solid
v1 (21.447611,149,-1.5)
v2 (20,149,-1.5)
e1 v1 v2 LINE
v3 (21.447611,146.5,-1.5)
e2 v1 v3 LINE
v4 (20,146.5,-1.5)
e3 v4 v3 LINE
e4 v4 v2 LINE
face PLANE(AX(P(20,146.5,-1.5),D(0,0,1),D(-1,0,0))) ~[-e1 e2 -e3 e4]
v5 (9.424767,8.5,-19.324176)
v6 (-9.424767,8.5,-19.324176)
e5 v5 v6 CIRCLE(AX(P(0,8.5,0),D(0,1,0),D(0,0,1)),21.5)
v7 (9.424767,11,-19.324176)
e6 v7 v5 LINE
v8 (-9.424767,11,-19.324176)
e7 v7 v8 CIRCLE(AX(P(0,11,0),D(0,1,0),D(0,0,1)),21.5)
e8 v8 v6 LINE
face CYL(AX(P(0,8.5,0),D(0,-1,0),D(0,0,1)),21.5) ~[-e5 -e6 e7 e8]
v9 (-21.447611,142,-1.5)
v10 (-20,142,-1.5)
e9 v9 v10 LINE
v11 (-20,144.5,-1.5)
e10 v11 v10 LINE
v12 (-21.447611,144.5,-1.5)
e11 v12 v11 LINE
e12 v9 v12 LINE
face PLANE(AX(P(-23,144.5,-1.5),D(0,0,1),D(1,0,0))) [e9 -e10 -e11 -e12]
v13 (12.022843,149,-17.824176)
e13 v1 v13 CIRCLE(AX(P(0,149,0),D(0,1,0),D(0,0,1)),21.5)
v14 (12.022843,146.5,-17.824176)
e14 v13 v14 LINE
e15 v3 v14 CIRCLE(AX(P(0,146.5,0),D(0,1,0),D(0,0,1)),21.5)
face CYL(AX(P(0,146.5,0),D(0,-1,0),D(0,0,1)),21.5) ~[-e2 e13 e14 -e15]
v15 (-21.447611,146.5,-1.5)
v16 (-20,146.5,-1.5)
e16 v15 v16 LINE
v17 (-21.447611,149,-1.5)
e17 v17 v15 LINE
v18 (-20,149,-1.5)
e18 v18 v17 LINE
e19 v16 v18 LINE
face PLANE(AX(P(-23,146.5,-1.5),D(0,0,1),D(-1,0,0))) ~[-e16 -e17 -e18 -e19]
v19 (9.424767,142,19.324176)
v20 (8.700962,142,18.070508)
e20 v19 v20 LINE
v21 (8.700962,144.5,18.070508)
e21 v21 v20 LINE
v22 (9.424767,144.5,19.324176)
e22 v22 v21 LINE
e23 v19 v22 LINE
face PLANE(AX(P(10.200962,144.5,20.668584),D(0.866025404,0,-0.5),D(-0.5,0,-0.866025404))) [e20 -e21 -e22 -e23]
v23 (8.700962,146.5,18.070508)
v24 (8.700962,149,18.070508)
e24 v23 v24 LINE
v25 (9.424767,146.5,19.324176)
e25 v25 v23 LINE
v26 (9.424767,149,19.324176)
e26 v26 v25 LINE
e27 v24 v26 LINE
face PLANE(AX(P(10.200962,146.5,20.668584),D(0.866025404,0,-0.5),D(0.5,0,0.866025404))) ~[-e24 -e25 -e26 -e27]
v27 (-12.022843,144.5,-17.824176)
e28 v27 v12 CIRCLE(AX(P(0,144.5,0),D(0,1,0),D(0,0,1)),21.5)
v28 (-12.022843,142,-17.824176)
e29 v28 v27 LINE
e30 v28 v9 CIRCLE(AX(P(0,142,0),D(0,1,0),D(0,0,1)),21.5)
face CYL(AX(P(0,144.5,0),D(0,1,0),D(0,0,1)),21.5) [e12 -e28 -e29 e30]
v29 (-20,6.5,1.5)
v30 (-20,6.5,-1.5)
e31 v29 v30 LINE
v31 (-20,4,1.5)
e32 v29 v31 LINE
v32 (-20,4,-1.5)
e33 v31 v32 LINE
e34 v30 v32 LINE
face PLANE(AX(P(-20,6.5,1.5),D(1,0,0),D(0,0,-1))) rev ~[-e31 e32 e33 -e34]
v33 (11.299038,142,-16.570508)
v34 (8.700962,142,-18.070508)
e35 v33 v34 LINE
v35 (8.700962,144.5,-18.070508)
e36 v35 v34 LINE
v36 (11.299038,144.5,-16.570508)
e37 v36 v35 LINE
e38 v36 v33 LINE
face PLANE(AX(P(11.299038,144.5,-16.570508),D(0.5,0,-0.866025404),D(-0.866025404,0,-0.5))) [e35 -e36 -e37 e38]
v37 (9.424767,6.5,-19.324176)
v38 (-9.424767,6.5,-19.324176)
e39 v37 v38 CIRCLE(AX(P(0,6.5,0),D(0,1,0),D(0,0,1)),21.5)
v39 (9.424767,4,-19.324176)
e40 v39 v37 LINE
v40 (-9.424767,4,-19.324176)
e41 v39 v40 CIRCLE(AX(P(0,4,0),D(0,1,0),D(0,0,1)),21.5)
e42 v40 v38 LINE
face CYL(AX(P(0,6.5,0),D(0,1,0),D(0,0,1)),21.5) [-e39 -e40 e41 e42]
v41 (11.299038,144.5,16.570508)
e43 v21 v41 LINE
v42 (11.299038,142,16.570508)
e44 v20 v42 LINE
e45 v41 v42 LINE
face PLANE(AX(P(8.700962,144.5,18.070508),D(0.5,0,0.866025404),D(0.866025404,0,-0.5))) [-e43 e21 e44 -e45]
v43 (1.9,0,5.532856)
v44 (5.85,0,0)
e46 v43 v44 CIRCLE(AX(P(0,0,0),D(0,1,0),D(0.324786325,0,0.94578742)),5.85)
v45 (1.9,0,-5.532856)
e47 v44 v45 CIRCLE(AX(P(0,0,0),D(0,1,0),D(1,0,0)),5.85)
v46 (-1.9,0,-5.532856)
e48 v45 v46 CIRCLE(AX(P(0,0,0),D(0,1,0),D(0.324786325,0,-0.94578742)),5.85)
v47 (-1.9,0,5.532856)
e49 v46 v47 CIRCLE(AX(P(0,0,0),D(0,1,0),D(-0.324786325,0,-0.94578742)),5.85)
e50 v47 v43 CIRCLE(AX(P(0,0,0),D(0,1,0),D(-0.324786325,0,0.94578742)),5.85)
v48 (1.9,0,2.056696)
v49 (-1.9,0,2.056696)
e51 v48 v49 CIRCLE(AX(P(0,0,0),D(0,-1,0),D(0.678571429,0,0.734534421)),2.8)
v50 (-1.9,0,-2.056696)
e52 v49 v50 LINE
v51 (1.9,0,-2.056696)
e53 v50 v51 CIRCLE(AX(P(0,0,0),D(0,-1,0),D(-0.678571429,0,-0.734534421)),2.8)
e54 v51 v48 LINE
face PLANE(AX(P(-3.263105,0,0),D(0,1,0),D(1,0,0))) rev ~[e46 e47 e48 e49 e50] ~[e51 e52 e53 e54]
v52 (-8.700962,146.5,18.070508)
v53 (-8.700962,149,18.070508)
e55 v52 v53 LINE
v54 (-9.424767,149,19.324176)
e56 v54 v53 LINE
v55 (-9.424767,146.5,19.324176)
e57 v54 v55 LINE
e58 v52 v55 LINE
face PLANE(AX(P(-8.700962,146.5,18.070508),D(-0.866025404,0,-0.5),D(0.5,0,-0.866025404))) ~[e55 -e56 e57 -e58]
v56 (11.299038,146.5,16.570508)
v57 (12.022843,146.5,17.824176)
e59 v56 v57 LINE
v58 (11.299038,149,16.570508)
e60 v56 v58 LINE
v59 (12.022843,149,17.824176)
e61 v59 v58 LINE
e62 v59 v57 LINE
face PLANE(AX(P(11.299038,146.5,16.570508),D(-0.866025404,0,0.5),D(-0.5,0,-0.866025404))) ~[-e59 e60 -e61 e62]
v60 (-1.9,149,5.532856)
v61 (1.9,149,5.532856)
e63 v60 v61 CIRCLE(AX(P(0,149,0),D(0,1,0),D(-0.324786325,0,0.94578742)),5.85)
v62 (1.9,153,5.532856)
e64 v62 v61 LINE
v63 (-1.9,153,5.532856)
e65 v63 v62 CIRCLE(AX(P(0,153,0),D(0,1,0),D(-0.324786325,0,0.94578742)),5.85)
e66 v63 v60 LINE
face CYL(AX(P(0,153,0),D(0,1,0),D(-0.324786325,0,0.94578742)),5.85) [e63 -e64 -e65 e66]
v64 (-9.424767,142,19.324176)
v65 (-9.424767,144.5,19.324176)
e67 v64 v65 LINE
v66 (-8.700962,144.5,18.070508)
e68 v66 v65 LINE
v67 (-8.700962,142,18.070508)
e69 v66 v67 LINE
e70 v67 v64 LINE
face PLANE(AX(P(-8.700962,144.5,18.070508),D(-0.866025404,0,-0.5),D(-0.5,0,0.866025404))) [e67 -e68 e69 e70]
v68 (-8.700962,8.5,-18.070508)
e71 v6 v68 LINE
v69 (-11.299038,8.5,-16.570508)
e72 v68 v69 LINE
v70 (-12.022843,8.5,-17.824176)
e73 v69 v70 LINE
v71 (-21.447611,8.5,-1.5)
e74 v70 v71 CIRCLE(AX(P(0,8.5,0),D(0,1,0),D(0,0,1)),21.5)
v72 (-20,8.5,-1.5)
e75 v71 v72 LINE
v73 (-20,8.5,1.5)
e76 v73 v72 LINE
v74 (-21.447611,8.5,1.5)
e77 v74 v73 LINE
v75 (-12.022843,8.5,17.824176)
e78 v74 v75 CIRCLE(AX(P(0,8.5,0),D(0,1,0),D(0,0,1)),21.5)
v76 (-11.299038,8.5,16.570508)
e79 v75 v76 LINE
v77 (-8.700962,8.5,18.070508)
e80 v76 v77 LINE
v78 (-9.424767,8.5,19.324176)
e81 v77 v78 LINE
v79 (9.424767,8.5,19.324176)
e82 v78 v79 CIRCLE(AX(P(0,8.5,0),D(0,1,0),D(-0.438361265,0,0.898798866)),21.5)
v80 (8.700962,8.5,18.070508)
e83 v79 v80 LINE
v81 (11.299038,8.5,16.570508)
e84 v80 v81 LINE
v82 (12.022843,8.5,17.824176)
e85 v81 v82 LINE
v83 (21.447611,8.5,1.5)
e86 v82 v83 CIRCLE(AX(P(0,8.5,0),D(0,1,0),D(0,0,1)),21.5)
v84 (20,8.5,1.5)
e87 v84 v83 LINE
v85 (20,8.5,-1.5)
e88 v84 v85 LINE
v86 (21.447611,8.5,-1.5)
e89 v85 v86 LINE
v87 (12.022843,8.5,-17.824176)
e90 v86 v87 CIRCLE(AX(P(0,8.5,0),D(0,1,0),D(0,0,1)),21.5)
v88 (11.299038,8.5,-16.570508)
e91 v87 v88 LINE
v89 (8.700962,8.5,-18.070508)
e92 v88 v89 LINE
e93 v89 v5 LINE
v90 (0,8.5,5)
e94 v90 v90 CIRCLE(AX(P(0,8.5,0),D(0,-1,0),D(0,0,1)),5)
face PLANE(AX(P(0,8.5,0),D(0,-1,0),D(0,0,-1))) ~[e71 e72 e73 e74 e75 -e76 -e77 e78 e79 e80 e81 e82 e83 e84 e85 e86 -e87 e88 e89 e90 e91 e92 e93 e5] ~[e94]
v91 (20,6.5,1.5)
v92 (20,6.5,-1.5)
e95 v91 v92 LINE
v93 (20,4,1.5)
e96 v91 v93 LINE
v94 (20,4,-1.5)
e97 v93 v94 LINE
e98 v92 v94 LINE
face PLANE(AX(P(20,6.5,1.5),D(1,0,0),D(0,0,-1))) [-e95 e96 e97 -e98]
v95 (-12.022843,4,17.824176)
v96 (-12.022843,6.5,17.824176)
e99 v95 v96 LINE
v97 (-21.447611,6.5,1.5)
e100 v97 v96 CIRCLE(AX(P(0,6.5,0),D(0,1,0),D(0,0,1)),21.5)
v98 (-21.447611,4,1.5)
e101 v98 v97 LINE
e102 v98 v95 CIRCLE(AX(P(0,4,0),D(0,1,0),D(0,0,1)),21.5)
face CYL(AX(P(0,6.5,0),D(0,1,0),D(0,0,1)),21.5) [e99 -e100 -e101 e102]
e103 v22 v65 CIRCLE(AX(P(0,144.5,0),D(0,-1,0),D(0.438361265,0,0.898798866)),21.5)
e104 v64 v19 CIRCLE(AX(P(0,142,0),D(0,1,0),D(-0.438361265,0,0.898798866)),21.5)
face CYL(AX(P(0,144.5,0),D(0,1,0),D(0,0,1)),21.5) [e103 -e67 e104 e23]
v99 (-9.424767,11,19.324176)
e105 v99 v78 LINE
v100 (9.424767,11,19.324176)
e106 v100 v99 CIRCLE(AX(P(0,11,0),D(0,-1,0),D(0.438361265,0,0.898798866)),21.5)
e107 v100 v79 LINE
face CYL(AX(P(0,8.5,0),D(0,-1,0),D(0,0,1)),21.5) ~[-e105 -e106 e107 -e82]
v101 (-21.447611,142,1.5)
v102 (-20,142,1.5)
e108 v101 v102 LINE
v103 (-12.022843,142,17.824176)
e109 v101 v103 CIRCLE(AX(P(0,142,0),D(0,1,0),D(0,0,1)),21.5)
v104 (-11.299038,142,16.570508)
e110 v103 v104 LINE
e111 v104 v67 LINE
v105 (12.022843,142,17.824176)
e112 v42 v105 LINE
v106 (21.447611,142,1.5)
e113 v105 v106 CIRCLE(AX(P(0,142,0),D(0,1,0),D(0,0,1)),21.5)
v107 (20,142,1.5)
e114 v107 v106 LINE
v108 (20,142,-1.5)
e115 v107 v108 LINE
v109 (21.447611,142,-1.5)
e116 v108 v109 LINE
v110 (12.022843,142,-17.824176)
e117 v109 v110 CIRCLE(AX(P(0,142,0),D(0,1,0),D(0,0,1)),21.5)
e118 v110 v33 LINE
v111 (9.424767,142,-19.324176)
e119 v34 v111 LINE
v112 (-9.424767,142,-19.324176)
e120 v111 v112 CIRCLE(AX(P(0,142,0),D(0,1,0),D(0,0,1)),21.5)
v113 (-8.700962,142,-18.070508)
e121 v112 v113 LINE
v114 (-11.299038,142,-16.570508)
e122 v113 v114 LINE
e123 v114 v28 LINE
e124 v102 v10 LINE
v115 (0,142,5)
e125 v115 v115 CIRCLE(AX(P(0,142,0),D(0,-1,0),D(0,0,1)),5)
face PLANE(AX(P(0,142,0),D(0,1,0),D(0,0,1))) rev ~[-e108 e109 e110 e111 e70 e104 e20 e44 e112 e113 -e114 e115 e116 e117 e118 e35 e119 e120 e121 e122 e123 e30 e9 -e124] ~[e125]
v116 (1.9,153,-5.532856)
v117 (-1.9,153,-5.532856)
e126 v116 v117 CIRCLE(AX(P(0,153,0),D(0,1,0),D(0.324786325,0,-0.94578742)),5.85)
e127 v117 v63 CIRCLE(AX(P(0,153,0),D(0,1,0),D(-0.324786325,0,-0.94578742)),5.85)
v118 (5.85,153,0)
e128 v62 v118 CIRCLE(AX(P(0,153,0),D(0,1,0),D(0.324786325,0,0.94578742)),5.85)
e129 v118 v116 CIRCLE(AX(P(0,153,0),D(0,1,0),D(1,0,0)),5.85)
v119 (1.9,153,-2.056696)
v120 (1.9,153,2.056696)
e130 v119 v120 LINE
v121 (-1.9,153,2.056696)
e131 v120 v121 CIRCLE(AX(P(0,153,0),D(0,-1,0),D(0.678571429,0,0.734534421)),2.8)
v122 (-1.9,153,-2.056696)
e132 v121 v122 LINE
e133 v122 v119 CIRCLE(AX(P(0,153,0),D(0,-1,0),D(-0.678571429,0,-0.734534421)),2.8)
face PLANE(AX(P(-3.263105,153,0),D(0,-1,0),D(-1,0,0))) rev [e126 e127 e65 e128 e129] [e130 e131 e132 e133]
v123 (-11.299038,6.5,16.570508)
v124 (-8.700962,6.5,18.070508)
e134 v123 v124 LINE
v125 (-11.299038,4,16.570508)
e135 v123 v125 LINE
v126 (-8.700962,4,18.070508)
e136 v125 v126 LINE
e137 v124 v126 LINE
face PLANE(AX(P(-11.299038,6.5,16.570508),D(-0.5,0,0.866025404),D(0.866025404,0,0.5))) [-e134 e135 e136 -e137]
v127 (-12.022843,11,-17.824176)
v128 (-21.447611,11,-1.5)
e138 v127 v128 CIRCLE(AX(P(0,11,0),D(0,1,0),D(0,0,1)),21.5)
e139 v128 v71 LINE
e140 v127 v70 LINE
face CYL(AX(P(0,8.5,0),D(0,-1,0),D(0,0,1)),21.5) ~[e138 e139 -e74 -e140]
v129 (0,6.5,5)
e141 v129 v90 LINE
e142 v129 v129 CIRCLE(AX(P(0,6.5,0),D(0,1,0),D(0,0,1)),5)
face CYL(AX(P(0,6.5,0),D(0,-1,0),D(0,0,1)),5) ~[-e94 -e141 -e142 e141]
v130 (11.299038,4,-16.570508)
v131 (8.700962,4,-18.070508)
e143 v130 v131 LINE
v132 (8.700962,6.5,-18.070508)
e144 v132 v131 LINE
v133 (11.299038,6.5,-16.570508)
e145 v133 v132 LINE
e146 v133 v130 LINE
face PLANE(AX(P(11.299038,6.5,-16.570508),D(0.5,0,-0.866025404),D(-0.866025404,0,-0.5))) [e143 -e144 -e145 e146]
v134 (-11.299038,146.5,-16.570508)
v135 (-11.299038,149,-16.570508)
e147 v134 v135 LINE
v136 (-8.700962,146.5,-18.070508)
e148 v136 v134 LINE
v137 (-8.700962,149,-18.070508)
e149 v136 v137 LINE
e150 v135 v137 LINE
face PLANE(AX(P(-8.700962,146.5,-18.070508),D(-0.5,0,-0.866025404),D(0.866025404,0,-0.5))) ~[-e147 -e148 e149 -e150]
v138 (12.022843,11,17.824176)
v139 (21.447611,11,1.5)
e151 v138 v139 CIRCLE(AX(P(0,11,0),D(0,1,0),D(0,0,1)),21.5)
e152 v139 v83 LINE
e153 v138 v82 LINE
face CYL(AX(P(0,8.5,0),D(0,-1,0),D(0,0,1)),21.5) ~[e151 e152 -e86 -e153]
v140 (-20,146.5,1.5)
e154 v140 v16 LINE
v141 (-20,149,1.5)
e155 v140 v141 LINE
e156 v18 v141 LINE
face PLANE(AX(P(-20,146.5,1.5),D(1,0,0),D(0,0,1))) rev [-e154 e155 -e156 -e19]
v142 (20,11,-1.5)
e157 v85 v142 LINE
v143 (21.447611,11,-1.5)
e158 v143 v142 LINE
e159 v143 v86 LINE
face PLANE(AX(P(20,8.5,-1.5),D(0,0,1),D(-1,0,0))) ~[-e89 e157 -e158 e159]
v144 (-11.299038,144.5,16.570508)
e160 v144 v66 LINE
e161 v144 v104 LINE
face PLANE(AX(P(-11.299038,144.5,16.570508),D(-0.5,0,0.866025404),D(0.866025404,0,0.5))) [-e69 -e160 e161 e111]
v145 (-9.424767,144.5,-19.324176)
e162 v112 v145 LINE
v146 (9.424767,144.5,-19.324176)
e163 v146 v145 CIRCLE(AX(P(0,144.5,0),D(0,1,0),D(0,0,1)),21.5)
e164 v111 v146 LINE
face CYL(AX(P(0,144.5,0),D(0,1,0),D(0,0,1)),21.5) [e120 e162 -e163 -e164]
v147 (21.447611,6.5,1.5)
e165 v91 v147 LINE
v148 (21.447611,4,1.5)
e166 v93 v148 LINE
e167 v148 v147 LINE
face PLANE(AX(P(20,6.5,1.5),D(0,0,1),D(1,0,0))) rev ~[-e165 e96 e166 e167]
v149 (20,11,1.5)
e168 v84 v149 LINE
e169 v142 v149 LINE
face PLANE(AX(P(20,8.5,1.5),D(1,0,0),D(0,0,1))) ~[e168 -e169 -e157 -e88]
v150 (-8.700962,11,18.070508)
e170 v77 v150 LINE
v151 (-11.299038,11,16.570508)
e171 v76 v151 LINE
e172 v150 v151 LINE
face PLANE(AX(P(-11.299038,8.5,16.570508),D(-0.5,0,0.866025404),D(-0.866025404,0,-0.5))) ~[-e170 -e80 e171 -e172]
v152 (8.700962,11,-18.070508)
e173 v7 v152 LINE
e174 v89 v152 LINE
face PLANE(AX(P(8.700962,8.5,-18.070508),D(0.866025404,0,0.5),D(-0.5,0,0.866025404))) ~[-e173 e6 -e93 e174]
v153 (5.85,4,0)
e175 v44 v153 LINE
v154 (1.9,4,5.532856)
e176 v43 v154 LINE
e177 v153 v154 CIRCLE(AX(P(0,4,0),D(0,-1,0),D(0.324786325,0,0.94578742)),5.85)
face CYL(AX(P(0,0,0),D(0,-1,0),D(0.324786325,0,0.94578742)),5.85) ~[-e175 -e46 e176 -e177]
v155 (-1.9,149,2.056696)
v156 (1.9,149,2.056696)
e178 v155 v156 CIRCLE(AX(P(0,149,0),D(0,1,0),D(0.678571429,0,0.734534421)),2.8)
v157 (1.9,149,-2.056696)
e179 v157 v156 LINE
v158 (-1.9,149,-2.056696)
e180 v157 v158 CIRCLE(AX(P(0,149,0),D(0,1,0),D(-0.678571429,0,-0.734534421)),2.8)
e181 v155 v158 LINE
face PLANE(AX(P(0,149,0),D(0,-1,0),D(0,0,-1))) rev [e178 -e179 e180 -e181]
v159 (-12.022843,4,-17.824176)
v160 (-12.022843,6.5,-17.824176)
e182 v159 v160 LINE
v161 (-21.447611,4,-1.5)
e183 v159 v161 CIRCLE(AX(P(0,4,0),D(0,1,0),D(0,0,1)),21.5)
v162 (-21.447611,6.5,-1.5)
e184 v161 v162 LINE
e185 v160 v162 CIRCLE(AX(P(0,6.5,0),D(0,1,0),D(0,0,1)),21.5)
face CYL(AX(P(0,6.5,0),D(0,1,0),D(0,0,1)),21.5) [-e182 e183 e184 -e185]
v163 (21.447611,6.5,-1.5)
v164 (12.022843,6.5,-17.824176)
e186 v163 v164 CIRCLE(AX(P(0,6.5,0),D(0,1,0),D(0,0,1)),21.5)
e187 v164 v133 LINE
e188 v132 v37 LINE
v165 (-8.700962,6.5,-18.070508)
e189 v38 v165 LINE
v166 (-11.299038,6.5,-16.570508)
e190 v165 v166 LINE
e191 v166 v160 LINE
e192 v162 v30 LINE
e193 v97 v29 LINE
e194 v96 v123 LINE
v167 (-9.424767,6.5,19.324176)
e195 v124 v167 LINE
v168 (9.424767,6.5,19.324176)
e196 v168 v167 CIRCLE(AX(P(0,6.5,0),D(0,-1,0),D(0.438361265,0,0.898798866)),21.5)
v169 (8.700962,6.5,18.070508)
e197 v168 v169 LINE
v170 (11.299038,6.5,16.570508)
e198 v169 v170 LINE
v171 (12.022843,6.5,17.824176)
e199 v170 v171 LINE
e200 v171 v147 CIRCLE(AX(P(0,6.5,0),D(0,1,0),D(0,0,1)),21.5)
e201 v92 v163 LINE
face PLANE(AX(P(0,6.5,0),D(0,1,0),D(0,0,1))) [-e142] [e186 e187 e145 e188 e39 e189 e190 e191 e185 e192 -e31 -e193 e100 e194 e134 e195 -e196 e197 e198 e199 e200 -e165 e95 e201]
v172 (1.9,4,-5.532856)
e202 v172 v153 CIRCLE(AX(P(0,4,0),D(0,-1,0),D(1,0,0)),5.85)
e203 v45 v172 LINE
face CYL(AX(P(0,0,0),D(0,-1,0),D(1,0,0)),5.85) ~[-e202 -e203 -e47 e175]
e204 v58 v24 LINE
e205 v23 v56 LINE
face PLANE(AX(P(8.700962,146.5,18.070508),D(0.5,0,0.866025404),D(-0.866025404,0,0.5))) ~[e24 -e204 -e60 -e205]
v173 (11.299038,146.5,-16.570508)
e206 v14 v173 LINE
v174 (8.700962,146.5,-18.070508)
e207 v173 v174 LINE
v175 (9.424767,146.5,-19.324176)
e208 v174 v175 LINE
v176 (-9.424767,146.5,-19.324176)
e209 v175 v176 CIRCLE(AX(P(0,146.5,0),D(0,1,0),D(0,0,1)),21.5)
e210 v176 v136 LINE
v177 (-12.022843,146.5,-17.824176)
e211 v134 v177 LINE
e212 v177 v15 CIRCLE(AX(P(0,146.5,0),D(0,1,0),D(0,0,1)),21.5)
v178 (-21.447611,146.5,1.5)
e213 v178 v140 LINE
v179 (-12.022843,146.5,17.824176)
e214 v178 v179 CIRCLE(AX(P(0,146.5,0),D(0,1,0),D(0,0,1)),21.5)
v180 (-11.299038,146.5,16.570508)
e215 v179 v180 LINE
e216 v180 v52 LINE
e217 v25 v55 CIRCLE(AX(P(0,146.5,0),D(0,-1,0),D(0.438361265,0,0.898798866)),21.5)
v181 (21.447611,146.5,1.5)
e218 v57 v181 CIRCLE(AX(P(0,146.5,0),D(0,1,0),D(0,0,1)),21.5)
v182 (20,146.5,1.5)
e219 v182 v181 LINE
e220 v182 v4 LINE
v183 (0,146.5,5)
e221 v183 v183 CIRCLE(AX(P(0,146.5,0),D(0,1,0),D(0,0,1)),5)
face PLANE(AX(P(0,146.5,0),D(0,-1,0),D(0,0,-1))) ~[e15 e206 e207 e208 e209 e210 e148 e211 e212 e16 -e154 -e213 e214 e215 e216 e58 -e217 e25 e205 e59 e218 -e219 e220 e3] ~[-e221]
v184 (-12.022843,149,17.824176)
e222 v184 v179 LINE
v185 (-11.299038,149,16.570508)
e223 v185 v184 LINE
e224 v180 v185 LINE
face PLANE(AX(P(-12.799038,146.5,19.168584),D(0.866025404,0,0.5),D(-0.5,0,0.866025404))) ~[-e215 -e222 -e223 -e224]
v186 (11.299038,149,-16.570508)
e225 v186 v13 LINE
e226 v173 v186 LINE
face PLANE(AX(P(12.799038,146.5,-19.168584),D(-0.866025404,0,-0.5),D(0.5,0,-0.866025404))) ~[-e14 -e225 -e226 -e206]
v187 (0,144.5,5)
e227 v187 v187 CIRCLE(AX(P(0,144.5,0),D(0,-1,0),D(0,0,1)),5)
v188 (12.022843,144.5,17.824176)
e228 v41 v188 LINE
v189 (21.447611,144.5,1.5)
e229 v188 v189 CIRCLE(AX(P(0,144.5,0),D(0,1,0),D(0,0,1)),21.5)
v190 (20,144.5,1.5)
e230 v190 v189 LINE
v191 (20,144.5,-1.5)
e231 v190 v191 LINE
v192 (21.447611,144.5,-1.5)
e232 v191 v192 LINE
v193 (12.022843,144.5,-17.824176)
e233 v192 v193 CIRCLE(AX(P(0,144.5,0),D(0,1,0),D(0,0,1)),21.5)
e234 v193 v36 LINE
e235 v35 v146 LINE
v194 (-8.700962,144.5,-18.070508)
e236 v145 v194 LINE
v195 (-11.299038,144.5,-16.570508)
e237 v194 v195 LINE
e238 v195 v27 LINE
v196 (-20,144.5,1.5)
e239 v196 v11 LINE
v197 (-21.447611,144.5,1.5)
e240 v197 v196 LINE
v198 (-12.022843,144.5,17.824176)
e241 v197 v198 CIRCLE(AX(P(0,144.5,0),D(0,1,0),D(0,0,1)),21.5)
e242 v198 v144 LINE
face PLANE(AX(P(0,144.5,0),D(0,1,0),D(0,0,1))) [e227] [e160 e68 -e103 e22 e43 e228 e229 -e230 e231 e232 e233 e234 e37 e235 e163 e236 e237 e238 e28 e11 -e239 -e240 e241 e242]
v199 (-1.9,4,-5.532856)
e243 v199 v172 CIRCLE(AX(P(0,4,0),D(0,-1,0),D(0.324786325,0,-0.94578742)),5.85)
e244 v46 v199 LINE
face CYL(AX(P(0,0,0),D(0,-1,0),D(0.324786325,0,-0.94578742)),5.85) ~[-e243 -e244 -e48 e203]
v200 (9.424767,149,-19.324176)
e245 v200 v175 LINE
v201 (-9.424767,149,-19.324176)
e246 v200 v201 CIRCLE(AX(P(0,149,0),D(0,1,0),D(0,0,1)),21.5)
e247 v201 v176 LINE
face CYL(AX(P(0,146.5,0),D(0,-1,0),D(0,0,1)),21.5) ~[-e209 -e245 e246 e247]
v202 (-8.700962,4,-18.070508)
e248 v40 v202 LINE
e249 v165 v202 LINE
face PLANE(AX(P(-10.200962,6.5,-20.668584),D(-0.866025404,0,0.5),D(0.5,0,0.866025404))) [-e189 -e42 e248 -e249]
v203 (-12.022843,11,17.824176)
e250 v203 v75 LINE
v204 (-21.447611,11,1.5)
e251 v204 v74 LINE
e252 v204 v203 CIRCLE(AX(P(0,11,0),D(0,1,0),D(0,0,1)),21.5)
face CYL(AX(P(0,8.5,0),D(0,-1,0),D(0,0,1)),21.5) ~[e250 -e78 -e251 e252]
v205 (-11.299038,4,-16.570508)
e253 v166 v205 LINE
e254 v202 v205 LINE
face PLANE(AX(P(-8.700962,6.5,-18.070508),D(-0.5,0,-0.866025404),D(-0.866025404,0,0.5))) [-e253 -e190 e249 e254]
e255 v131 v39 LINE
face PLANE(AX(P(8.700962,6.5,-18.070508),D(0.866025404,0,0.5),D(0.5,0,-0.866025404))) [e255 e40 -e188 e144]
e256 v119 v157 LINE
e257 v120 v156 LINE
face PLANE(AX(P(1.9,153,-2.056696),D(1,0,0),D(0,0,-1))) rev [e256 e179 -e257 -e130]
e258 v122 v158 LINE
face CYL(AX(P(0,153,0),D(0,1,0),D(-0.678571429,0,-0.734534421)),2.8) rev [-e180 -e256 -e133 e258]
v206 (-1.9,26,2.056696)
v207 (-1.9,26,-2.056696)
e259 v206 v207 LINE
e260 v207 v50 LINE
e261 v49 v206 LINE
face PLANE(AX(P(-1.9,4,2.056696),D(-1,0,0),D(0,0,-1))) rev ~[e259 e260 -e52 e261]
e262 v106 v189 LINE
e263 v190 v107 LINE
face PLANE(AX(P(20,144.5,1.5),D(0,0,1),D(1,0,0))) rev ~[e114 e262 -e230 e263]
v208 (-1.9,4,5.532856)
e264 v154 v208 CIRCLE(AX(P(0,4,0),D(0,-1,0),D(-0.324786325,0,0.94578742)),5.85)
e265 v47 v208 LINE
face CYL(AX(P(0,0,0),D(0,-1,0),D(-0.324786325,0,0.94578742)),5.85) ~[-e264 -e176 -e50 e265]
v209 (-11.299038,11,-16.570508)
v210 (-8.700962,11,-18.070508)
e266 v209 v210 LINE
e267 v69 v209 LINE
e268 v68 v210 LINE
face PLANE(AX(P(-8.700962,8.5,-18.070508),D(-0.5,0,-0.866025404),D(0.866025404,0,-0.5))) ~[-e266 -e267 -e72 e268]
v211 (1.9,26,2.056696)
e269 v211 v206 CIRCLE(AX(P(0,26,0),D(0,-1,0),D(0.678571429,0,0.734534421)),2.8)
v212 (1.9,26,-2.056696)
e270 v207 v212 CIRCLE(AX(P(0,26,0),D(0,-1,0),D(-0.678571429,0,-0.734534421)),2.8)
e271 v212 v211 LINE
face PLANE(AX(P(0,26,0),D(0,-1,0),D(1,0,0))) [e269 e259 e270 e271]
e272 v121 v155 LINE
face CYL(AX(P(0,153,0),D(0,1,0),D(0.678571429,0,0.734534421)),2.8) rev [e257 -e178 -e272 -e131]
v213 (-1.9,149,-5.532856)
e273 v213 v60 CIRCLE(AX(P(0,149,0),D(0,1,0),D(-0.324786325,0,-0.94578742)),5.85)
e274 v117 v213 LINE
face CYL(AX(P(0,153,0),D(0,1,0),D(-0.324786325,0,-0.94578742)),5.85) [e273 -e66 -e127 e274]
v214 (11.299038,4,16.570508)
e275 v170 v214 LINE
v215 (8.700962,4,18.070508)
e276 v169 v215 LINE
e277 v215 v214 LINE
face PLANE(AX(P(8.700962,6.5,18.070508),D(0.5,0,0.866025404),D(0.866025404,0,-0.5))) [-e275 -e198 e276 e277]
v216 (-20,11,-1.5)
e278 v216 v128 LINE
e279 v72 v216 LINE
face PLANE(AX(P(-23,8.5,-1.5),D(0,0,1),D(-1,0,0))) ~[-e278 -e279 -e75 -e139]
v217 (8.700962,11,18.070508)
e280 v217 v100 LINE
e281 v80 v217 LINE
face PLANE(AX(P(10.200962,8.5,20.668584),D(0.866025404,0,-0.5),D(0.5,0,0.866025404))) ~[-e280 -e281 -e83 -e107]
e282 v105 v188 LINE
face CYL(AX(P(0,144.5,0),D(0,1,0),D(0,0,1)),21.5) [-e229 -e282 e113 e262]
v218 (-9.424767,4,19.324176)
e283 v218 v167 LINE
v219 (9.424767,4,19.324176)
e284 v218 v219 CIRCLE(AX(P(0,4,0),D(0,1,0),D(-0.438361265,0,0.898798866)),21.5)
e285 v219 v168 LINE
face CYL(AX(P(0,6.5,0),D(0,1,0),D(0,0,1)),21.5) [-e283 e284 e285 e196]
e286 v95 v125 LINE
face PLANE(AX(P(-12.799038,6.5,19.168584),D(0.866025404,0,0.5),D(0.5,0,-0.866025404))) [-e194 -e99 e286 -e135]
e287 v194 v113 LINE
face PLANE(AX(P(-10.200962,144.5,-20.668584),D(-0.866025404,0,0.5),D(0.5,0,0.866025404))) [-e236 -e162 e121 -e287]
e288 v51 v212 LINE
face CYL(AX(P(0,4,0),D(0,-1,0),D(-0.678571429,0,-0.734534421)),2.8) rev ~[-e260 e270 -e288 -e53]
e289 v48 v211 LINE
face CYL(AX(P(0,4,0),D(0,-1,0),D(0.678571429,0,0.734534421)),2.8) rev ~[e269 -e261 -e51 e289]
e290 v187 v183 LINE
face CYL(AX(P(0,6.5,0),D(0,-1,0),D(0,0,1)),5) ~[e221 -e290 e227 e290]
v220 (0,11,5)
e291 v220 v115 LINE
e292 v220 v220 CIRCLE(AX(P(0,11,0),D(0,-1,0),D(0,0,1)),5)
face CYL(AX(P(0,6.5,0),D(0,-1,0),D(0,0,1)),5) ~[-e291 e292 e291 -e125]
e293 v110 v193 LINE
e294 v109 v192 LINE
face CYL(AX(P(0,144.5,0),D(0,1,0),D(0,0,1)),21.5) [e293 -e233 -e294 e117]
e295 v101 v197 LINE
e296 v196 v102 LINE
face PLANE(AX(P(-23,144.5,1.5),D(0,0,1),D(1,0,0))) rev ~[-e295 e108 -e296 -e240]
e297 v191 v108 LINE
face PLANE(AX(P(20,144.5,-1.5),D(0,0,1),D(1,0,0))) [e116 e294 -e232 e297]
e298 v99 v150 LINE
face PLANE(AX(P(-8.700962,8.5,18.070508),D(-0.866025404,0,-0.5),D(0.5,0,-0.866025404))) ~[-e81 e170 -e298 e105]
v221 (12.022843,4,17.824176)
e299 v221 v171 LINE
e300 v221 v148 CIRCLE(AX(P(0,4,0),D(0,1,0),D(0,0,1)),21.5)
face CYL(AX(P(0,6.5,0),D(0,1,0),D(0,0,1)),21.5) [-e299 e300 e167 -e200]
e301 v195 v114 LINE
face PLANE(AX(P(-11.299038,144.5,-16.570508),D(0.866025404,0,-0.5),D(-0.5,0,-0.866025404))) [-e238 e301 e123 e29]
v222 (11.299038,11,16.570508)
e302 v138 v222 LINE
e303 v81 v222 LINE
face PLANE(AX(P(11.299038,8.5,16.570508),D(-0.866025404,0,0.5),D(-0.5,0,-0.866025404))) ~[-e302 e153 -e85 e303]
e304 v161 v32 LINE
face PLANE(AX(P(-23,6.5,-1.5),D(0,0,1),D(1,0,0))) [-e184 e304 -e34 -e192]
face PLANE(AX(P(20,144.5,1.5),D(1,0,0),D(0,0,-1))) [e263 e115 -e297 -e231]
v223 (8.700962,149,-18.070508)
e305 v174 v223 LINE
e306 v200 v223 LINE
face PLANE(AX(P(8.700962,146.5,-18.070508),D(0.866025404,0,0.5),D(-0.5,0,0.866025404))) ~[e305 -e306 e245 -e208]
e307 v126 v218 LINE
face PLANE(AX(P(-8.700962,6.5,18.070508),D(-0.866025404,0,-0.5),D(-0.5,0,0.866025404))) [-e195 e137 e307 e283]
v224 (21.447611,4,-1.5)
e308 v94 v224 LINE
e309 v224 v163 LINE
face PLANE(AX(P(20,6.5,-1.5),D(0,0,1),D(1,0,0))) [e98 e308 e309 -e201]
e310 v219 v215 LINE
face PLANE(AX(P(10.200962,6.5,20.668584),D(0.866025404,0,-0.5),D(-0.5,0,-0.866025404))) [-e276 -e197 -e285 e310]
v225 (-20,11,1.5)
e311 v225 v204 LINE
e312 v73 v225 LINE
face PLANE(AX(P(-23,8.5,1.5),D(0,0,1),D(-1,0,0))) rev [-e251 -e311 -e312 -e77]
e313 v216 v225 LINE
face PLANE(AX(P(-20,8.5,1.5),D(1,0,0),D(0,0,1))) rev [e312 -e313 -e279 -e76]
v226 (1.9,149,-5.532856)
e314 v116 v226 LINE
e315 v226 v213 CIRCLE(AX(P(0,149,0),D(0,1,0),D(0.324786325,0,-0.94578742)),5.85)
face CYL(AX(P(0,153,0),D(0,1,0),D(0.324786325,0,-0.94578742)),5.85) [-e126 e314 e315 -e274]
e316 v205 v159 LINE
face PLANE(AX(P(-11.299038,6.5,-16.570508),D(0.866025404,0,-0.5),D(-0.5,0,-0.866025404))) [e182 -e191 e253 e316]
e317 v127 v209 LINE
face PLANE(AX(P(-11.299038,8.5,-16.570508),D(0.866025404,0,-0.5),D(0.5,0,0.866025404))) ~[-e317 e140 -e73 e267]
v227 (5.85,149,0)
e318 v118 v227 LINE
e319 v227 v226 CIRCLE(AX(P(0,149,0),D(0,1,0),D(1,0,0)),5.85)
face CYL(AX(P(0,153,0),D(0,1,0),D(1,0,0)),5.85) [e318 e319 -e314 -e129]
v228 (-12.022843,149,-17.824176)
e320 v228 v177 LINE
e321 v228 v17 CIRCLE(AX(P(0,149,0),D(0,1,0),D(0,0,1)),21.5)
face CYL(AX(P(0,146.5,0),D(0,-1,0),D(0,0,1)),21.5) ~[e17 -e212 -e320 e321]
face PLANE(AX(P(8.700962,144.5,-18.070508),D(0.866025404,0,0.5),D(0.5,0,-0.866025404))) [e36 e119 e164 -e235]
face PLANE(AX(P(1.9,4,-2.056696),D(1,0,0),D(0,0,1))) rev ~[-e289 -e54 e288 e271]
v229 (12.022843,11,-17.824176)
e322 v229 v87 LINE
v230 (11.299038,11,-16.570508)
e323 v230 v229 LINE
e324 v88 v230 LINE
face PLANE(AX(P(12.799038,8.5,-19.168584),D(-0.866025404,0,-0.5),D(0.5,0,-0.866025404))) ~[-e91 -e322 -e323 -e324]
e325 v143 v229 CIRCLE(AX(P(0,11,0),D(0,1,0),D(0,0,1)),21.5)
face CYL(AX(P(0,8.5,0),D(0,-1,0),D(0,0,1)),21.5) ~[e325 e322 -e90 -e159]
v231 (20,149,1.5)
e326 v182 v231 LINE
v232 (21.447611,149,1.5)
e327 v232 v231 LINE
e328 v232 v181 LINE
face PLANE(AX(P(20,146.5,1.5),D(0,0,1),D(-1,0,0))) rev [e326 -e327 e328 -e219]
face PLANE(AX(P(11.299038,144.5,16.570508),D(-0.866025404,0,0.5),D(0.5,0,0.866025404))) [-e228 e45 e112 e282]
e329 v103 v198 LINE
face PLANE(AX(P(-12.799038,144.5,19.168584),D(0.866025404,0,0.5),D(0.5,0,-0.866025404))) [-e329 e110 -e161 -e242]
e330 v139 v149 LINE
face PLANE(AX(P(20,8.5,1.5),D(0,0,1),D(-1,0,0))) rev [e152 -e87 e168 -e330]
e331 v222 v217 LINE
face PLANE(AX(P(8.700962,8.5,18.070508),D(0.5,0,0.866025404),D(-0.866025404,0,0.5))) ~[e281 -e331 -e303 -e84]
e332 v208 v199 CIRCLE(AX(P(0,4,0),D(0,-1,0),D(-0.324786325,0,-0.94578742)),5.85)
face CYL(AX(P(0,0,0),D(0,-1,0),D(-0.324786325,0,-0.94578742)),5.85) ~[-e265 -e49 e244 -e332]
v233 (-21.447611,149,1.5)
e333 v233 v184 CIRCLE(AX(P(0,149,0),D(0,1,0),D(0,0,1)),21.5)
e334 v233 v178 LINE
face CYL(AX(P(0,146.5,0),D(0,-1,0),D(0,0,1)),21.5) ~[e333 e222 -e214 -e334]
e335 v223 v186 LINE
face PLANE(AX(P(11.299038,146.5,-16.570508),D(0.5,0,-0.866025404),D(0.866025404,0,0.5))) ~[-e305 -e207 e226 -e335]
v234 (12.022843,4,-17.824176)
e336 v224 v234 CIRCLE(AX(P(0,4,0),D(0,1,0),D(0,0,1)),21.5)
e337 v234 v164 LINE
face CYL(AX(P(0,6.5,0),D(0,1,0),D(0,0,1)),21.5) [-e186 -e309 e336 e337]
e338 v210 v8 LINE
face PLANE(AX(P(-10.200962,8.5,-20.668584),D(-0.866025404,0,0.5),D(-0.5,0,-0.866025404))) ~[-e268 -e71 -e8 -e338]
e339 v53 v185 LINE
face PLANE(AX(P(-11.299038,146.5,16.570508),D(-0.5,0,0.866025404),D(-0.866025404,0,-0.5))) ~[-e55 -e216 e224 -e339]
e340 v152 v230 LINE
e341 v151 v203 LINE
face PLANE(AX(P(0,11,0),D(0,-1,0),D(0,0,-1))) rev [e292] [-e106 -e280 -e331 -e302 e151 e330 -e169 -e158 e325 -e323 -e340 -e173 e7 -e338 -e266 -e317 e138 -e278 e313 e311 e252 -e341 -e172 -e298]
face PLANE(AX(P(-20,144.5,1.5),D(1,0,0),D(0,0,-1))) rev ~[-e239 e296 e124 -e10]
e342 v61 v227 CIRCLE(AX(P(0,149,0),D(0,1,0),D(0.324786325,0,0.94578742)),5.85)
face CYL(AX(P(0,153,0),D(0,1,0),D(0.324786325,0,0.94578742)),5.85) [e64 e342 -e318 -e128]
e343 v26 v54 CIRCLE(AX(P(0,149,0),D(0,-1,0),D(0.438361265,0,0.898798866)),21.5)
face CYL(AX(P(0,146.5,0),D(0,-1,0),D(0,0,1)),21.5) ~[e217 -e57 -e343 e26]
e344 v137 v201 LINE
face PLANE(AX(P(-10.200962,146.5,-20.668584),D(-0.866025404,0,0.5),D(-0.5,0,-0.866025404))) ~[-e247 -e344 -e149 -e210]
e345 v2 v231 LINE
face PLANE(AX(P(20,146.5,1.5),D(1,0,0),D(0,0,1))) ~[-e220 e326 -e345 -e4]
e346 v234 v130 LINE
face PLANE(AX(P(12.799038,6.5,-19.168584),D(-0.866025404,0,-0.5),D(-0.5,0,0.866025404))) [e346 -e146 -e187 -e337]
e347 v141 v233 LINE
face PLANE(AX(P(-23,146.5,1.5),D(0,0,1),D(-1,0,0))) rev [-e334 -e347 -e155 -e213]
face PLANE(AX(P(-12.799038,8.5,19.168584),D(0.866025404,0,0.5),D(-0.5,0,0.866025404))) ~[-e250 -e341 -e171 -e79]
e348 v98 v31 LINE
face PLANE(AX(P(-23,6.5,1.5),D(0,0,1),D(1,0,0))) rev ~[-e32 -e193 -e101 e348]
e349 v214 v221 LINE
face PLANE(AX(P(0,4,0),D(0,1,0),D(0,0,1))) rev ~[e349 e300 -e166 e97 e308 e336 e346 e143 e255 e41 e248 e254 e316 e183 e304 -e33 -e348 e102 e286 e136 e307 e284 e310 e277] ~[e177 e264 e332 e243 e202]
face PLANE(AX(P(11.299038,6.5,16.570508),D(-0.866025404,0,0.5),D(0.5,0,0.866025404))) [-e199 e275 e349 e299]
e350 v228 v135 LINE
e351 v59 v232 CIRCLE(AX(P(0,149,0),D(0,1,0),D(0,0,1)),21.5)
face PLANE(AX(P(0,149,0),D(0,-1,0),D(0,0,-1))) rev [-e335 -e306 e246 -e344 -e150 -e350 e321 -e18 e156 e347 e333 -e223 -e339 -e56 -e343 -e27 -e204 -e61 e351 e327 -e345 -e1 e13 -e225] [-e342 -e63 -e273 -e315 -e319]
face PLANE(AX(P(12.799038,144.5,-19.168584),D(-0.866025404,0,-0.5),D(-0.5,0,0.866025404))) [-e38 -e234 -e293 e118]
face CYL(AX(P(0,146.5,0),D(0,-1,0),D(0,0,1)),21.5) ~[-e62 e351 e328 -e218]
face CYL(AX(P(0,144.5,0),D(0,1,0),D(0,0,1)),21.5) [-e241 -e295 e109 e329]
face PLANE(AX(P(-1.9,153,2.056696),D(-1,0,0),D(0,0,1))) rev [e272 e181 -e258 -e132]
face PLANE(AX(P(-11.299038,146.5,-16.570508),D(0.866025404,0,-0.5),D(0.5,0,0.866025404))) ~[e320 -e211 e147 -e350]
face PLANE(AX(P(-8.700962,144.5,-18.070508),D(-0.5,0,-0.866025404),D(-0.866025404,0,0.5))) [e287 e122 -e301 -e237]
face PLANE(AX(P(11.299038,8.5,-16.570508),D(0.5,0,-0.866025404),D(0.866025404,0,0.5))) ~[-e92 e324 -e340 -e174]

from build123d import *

# Parameters (mm, degrees)
BOSS_EXTRUDE1_DEPTH     = 6.5
SKETCH2_R               = 21.5
BOSS_EXTRUDE2_DEPTH     = 2.5
CUT_EXTRUDE1_DEPTH      = 8
SKETCH4_W               = 3
SKETCH4_H               = 3
CUT_EXTRUDE2_DEPTH      = 10
SKETCH5_R               = 5
BOSS_EXTRUDE3_DEPTH     = 140
CUT_EXTRUDE3_DEPTH      = 15
MIRROR6_COPY_1_SKETCH_R = 21.5
MIRROR6_COPY_1_DEPTH    = 2.5
MIRROR6_COPY_2_SKETCH_W = 3
MIRROR6_COPY_2_SKETCH_H = 3
MIRROR6_COPY_2_DEPTH    = 10


with BuildPart() as part:
    # Sketch1 → Boss-Extrude1 (new body)
    with BuildSketch(Plane(origin=(0, 0, 0), x_dir=(1, 0, 0), z_dir=(0, 1, 0))):
        with BuildLine():
            ThreePointArc((-1.9, -2.05669638), (-2.8, 0), (-1.9, 2.05669638))
            Line((-1.9, 2.05669638), (-1.9, 5.532856405))
            ThreePointArc((-1.9, 5.532856405), (-5.85, 0), (-1.9, -5.532856405))
            Line((-1.9, -5.532856405), (-1.9, -2.05669638))
        make_face()
        with BuildLine():
            ThreePointArc((-1.9, 2.05669638), (0, 2.8), (1.9, 2.05669638))
            Line((1.9, 2.05669638), (1.9, 5.532856405))
            ThreePointArc((1.9, 5.532856405), (0, 5.85), (-1.9, 5.532856405))
            Line((-1.9, 5.532856405), (-1.9, 2.05669638))
        make_face()
        with BuildLine():
            Line((1.9, 5.532856405), (1.9, 2.05669638))
            ThreePointArc((1.9, 2.05669638), (2.565151068, 1.122497216), (2.8, 0))
            ThreePointArc((2.8, 0), (2.565151068, -1.122497216), (1.9, -2.05669638))
            Line((1.9, -2.05669638), (1.9, -5.532856405))
            ThreePointArc((1.9, -5.532856405), (4.761171074, -3.399080758), (5.85, 0))
            ThreePointArc((5.85, 0), (4.761171074, 3.399080758), (1.9, 5.532856405))
        make_face()
        with BuildLine():
            Line((1.9, -5.532856405), (1.9, -2.05669638))
            ThreePointArc((1.9, -2.05669638), (0, -2.8), (-1.9, -2.05669638))
            Line((-1.9, -2.05669638), (-1.9, -5.532856405))
            ThreePointArc((-1.9, -5.532856405), (0, -5.85), (1.9, -5.532856405))
        make_face()
        with BuildLine():
            Line((-1.9, -2.05669638), (-1.9, 2.05669638))
            ThreePointArc((-1.9, 2.05669638), (-2.8, 0), (-1.9, -2.05669638))
        make_face()
        with BuildLine():
            ThreePointArc((2.8, 0), (2.565151068, 1.122497216), (1.9, 2.05669638))
            Line((1.9, 2.05669638), (1.9, -2.05669638))
            ThreePointArc((1.9, -2.05669638), (2.565151068, -1.122497216), (2.8, 0))
        make_face()
    boss_extrude1 = extrude(amount=BOSS_EXTRUDE1_DEPTH)

    # Sketch2 → Boss-Extrude2 (add)
    with BuildSketch(Plane(origin=(0, 6.5, 0), x_dir=(1, 0, 0), z_dir=(0, 1, 0))):
        with Locations(Location((0, 0, 0), (0, 0, 270))):
            Circle(SKETCH2_R)
    boss_extrude2 = extrude(amount=-BOSS_EXTRUDE2_DEPTH)

    # Sketch3 → Cut-Extrude1 (cut)
    with BuildSketch(Plane.XZ.offset(-4)):
        with BuildLine():
            Line((-1.9, 2.05669638), (-1.9, -2.05669638))
            ThreePointArc((-1.9, -2.05669638), (0, -2.8), (1.9, -2.05669638))
            Line((1.9, -2.05669638), (1.9, 2.05669638))
            ThreePointArc((1.9, 2.05669638), (0, 2.8), (-1.9, 2.05669638))
        make_face()
    cut_extrude1 = extrude(amount=-CUT_EXTRUDE1_DEPTH, mode=Mode.SUBTRACT)

    # Sketch4 → Cut-Extrude2 (cut)
    with BuildSketch(Plane(origin=(0, 6.5, 0), x_dir=(1, 0, 0), z_dir=(0, 1, 0))):
        Polygon((11.299038106, -16.570508076), (12.799038106, -19.168584287), (10.200961894, -20.668584287), (8.700961894, -18.070508076), align=None)
        with Locations((21.5, 0)):
            Rectangle(SKETCH4_W, SKETCH4_H)
        Polygon((-8.700961894, -18.070508076), (-10.200961894, -20.668584287), (-12.799038106, -19.168584287), (-11.299038106, -16.570508076), align=None)
        with Locations((-21.5, 0)):
            Rectangle(SKETCH4_W, SKETCH4_H)
        Polygon((-11.299038106, 16.570508076), (-12.799038106, 19.168584287), (-10.200961894, 20.668584287), (-8.700961894, 18.070508076), align=None)
        Polygon((8.700961894, 18.070508076), (10.200961894, 20.668584287), (12.799038106, 19.168584287), (11.299038106, 16.570508076), align=None)
    cut_extrude2 = extrude(amount=-CUT_EXTRUDE2_DEPTH, mode=Mode.SUBTRACT)

    # Sketch5 → Boss-Extrude3 (add)
    with BuildSketch(Plane(origin=(0, 6.5, 0), x_dir=(1, 0, 0), z_dir=(0, 1, 0))):
        with Locations(Location((0, 0, 0), (0, 0, 270))):
            Circle(SKETCH5_R)
    extrude(amount=BOSS_EXTRUDE3_DEPTH)

    # Mirror1: Boss-Extrude2 across plane
    add(boss_extrude2.mirror(Plane.ZX.offset(76.5)))

    # Mirror2: Boss-Extrude1 across plane
    add(boss_extrude1.mirror(Plane.ZX.offset(76.5)))

    # Mirror3: Boss-Extrude2, Cut-Extrude1, Cut-Extrude2 across plane
    add(boss_extrude2.mirror(Plane.ZX.offset(7.5)))
    add(cut_extrude1.mirror(Plane.ZX.offset(7.5)), mode=Mode.SUBTRACT)
    add(cut_extrude2.mirror(Plane.ZX.offset(7.5)), mode=Mode.SUBTRACT)

    # Sketch6 → Cut-Extrude3 (cut)
    with BuildSketch(Plane.XZ.offset(-11)):
        with BuildLine():
            Line((-1.9, 2.05669638), (-1.9, -2.05669638))
            ThreePointArc((-1.9, -2.05669638), (0, -2.8), (1.9, -2.05669638))
            Line((1.9, -2.05669638), (1.9, 2.05669638))
            ThreePointArc((1.9, 2.05669638), (0, 2.8), (-1.9, 2.05669638))
        make_face()
    extrude(amount=-CUT_EXTRUDE3_DEPTH, mode=Mode.SUBTRACT)

    # Mirror5: Cut-Extrude2 across plane
    add(cut_extrude2.mirror(Plane.ZX.offset(76.5)), mode=Mode.SUBTRACT)

    # Mirror6 copy 1 sketch → Mirror6 copy 1 (add)
    with BuildSketch(Plane(origin=(0, 144.5, 0), x_dir=(1, 0, 0), z_dir=(0, 1, 0))):
        with Locations(Location((0, 0, 0), (0, 0, 270))):
            Circle(MIRROR6_COPY_1_SKETCH_R)
    extrude(amount=-MIRROR6_COPY_1_DEPTH)

    # Mirror6 copy 2 sketch → Mirror6 copy 2 (cut)
    with BuildSketch(Plane(origin=(0, 144.5, 0), x_dir=(1, 0, 0), z_dir=(0, 1, 0))):
        Polygon((11.299038106, -16.570508076), (12.799038106, -19.168584287), (10.200961894, -20.668584287), (8.700961894, -18.070508076), align=None)
        with Locations((21.5, 0)):
            Rectangle(MIRROR6_COPY_2_SKETCH_W, MIRROR6_COPY_2_SKETCH_H)
        Polygon((-8.700961894, -18.070508076), (-10.200961894, -20.668584287), (-12.799038106, -19.168584287), (-11.299038106, -16.570508076), align=None)
        with Locations((-21.5, 0)):
            Rectangle(MIRROR6_COPY_2_SKETCH_W, MIRROR6_COPY_2_SKETCH_H)
        Polygon((-11.299038106, 16.570508076), (-12.799038106, 19.168584287), (-10.200961894, 20.668584287), (-8.700961894, 18.070508076), align=None)
        Polygon((8.700961894, 18.070508076), (10.200961894, 20.668584287), (12.799038106, 19.168584287), (11.299038106, 16.570508076), align=None)
    extrude(amount=-MIRROR6_COPY_2_DEPTH, mode=Mode.SUBTRACT)


solid = part.part
